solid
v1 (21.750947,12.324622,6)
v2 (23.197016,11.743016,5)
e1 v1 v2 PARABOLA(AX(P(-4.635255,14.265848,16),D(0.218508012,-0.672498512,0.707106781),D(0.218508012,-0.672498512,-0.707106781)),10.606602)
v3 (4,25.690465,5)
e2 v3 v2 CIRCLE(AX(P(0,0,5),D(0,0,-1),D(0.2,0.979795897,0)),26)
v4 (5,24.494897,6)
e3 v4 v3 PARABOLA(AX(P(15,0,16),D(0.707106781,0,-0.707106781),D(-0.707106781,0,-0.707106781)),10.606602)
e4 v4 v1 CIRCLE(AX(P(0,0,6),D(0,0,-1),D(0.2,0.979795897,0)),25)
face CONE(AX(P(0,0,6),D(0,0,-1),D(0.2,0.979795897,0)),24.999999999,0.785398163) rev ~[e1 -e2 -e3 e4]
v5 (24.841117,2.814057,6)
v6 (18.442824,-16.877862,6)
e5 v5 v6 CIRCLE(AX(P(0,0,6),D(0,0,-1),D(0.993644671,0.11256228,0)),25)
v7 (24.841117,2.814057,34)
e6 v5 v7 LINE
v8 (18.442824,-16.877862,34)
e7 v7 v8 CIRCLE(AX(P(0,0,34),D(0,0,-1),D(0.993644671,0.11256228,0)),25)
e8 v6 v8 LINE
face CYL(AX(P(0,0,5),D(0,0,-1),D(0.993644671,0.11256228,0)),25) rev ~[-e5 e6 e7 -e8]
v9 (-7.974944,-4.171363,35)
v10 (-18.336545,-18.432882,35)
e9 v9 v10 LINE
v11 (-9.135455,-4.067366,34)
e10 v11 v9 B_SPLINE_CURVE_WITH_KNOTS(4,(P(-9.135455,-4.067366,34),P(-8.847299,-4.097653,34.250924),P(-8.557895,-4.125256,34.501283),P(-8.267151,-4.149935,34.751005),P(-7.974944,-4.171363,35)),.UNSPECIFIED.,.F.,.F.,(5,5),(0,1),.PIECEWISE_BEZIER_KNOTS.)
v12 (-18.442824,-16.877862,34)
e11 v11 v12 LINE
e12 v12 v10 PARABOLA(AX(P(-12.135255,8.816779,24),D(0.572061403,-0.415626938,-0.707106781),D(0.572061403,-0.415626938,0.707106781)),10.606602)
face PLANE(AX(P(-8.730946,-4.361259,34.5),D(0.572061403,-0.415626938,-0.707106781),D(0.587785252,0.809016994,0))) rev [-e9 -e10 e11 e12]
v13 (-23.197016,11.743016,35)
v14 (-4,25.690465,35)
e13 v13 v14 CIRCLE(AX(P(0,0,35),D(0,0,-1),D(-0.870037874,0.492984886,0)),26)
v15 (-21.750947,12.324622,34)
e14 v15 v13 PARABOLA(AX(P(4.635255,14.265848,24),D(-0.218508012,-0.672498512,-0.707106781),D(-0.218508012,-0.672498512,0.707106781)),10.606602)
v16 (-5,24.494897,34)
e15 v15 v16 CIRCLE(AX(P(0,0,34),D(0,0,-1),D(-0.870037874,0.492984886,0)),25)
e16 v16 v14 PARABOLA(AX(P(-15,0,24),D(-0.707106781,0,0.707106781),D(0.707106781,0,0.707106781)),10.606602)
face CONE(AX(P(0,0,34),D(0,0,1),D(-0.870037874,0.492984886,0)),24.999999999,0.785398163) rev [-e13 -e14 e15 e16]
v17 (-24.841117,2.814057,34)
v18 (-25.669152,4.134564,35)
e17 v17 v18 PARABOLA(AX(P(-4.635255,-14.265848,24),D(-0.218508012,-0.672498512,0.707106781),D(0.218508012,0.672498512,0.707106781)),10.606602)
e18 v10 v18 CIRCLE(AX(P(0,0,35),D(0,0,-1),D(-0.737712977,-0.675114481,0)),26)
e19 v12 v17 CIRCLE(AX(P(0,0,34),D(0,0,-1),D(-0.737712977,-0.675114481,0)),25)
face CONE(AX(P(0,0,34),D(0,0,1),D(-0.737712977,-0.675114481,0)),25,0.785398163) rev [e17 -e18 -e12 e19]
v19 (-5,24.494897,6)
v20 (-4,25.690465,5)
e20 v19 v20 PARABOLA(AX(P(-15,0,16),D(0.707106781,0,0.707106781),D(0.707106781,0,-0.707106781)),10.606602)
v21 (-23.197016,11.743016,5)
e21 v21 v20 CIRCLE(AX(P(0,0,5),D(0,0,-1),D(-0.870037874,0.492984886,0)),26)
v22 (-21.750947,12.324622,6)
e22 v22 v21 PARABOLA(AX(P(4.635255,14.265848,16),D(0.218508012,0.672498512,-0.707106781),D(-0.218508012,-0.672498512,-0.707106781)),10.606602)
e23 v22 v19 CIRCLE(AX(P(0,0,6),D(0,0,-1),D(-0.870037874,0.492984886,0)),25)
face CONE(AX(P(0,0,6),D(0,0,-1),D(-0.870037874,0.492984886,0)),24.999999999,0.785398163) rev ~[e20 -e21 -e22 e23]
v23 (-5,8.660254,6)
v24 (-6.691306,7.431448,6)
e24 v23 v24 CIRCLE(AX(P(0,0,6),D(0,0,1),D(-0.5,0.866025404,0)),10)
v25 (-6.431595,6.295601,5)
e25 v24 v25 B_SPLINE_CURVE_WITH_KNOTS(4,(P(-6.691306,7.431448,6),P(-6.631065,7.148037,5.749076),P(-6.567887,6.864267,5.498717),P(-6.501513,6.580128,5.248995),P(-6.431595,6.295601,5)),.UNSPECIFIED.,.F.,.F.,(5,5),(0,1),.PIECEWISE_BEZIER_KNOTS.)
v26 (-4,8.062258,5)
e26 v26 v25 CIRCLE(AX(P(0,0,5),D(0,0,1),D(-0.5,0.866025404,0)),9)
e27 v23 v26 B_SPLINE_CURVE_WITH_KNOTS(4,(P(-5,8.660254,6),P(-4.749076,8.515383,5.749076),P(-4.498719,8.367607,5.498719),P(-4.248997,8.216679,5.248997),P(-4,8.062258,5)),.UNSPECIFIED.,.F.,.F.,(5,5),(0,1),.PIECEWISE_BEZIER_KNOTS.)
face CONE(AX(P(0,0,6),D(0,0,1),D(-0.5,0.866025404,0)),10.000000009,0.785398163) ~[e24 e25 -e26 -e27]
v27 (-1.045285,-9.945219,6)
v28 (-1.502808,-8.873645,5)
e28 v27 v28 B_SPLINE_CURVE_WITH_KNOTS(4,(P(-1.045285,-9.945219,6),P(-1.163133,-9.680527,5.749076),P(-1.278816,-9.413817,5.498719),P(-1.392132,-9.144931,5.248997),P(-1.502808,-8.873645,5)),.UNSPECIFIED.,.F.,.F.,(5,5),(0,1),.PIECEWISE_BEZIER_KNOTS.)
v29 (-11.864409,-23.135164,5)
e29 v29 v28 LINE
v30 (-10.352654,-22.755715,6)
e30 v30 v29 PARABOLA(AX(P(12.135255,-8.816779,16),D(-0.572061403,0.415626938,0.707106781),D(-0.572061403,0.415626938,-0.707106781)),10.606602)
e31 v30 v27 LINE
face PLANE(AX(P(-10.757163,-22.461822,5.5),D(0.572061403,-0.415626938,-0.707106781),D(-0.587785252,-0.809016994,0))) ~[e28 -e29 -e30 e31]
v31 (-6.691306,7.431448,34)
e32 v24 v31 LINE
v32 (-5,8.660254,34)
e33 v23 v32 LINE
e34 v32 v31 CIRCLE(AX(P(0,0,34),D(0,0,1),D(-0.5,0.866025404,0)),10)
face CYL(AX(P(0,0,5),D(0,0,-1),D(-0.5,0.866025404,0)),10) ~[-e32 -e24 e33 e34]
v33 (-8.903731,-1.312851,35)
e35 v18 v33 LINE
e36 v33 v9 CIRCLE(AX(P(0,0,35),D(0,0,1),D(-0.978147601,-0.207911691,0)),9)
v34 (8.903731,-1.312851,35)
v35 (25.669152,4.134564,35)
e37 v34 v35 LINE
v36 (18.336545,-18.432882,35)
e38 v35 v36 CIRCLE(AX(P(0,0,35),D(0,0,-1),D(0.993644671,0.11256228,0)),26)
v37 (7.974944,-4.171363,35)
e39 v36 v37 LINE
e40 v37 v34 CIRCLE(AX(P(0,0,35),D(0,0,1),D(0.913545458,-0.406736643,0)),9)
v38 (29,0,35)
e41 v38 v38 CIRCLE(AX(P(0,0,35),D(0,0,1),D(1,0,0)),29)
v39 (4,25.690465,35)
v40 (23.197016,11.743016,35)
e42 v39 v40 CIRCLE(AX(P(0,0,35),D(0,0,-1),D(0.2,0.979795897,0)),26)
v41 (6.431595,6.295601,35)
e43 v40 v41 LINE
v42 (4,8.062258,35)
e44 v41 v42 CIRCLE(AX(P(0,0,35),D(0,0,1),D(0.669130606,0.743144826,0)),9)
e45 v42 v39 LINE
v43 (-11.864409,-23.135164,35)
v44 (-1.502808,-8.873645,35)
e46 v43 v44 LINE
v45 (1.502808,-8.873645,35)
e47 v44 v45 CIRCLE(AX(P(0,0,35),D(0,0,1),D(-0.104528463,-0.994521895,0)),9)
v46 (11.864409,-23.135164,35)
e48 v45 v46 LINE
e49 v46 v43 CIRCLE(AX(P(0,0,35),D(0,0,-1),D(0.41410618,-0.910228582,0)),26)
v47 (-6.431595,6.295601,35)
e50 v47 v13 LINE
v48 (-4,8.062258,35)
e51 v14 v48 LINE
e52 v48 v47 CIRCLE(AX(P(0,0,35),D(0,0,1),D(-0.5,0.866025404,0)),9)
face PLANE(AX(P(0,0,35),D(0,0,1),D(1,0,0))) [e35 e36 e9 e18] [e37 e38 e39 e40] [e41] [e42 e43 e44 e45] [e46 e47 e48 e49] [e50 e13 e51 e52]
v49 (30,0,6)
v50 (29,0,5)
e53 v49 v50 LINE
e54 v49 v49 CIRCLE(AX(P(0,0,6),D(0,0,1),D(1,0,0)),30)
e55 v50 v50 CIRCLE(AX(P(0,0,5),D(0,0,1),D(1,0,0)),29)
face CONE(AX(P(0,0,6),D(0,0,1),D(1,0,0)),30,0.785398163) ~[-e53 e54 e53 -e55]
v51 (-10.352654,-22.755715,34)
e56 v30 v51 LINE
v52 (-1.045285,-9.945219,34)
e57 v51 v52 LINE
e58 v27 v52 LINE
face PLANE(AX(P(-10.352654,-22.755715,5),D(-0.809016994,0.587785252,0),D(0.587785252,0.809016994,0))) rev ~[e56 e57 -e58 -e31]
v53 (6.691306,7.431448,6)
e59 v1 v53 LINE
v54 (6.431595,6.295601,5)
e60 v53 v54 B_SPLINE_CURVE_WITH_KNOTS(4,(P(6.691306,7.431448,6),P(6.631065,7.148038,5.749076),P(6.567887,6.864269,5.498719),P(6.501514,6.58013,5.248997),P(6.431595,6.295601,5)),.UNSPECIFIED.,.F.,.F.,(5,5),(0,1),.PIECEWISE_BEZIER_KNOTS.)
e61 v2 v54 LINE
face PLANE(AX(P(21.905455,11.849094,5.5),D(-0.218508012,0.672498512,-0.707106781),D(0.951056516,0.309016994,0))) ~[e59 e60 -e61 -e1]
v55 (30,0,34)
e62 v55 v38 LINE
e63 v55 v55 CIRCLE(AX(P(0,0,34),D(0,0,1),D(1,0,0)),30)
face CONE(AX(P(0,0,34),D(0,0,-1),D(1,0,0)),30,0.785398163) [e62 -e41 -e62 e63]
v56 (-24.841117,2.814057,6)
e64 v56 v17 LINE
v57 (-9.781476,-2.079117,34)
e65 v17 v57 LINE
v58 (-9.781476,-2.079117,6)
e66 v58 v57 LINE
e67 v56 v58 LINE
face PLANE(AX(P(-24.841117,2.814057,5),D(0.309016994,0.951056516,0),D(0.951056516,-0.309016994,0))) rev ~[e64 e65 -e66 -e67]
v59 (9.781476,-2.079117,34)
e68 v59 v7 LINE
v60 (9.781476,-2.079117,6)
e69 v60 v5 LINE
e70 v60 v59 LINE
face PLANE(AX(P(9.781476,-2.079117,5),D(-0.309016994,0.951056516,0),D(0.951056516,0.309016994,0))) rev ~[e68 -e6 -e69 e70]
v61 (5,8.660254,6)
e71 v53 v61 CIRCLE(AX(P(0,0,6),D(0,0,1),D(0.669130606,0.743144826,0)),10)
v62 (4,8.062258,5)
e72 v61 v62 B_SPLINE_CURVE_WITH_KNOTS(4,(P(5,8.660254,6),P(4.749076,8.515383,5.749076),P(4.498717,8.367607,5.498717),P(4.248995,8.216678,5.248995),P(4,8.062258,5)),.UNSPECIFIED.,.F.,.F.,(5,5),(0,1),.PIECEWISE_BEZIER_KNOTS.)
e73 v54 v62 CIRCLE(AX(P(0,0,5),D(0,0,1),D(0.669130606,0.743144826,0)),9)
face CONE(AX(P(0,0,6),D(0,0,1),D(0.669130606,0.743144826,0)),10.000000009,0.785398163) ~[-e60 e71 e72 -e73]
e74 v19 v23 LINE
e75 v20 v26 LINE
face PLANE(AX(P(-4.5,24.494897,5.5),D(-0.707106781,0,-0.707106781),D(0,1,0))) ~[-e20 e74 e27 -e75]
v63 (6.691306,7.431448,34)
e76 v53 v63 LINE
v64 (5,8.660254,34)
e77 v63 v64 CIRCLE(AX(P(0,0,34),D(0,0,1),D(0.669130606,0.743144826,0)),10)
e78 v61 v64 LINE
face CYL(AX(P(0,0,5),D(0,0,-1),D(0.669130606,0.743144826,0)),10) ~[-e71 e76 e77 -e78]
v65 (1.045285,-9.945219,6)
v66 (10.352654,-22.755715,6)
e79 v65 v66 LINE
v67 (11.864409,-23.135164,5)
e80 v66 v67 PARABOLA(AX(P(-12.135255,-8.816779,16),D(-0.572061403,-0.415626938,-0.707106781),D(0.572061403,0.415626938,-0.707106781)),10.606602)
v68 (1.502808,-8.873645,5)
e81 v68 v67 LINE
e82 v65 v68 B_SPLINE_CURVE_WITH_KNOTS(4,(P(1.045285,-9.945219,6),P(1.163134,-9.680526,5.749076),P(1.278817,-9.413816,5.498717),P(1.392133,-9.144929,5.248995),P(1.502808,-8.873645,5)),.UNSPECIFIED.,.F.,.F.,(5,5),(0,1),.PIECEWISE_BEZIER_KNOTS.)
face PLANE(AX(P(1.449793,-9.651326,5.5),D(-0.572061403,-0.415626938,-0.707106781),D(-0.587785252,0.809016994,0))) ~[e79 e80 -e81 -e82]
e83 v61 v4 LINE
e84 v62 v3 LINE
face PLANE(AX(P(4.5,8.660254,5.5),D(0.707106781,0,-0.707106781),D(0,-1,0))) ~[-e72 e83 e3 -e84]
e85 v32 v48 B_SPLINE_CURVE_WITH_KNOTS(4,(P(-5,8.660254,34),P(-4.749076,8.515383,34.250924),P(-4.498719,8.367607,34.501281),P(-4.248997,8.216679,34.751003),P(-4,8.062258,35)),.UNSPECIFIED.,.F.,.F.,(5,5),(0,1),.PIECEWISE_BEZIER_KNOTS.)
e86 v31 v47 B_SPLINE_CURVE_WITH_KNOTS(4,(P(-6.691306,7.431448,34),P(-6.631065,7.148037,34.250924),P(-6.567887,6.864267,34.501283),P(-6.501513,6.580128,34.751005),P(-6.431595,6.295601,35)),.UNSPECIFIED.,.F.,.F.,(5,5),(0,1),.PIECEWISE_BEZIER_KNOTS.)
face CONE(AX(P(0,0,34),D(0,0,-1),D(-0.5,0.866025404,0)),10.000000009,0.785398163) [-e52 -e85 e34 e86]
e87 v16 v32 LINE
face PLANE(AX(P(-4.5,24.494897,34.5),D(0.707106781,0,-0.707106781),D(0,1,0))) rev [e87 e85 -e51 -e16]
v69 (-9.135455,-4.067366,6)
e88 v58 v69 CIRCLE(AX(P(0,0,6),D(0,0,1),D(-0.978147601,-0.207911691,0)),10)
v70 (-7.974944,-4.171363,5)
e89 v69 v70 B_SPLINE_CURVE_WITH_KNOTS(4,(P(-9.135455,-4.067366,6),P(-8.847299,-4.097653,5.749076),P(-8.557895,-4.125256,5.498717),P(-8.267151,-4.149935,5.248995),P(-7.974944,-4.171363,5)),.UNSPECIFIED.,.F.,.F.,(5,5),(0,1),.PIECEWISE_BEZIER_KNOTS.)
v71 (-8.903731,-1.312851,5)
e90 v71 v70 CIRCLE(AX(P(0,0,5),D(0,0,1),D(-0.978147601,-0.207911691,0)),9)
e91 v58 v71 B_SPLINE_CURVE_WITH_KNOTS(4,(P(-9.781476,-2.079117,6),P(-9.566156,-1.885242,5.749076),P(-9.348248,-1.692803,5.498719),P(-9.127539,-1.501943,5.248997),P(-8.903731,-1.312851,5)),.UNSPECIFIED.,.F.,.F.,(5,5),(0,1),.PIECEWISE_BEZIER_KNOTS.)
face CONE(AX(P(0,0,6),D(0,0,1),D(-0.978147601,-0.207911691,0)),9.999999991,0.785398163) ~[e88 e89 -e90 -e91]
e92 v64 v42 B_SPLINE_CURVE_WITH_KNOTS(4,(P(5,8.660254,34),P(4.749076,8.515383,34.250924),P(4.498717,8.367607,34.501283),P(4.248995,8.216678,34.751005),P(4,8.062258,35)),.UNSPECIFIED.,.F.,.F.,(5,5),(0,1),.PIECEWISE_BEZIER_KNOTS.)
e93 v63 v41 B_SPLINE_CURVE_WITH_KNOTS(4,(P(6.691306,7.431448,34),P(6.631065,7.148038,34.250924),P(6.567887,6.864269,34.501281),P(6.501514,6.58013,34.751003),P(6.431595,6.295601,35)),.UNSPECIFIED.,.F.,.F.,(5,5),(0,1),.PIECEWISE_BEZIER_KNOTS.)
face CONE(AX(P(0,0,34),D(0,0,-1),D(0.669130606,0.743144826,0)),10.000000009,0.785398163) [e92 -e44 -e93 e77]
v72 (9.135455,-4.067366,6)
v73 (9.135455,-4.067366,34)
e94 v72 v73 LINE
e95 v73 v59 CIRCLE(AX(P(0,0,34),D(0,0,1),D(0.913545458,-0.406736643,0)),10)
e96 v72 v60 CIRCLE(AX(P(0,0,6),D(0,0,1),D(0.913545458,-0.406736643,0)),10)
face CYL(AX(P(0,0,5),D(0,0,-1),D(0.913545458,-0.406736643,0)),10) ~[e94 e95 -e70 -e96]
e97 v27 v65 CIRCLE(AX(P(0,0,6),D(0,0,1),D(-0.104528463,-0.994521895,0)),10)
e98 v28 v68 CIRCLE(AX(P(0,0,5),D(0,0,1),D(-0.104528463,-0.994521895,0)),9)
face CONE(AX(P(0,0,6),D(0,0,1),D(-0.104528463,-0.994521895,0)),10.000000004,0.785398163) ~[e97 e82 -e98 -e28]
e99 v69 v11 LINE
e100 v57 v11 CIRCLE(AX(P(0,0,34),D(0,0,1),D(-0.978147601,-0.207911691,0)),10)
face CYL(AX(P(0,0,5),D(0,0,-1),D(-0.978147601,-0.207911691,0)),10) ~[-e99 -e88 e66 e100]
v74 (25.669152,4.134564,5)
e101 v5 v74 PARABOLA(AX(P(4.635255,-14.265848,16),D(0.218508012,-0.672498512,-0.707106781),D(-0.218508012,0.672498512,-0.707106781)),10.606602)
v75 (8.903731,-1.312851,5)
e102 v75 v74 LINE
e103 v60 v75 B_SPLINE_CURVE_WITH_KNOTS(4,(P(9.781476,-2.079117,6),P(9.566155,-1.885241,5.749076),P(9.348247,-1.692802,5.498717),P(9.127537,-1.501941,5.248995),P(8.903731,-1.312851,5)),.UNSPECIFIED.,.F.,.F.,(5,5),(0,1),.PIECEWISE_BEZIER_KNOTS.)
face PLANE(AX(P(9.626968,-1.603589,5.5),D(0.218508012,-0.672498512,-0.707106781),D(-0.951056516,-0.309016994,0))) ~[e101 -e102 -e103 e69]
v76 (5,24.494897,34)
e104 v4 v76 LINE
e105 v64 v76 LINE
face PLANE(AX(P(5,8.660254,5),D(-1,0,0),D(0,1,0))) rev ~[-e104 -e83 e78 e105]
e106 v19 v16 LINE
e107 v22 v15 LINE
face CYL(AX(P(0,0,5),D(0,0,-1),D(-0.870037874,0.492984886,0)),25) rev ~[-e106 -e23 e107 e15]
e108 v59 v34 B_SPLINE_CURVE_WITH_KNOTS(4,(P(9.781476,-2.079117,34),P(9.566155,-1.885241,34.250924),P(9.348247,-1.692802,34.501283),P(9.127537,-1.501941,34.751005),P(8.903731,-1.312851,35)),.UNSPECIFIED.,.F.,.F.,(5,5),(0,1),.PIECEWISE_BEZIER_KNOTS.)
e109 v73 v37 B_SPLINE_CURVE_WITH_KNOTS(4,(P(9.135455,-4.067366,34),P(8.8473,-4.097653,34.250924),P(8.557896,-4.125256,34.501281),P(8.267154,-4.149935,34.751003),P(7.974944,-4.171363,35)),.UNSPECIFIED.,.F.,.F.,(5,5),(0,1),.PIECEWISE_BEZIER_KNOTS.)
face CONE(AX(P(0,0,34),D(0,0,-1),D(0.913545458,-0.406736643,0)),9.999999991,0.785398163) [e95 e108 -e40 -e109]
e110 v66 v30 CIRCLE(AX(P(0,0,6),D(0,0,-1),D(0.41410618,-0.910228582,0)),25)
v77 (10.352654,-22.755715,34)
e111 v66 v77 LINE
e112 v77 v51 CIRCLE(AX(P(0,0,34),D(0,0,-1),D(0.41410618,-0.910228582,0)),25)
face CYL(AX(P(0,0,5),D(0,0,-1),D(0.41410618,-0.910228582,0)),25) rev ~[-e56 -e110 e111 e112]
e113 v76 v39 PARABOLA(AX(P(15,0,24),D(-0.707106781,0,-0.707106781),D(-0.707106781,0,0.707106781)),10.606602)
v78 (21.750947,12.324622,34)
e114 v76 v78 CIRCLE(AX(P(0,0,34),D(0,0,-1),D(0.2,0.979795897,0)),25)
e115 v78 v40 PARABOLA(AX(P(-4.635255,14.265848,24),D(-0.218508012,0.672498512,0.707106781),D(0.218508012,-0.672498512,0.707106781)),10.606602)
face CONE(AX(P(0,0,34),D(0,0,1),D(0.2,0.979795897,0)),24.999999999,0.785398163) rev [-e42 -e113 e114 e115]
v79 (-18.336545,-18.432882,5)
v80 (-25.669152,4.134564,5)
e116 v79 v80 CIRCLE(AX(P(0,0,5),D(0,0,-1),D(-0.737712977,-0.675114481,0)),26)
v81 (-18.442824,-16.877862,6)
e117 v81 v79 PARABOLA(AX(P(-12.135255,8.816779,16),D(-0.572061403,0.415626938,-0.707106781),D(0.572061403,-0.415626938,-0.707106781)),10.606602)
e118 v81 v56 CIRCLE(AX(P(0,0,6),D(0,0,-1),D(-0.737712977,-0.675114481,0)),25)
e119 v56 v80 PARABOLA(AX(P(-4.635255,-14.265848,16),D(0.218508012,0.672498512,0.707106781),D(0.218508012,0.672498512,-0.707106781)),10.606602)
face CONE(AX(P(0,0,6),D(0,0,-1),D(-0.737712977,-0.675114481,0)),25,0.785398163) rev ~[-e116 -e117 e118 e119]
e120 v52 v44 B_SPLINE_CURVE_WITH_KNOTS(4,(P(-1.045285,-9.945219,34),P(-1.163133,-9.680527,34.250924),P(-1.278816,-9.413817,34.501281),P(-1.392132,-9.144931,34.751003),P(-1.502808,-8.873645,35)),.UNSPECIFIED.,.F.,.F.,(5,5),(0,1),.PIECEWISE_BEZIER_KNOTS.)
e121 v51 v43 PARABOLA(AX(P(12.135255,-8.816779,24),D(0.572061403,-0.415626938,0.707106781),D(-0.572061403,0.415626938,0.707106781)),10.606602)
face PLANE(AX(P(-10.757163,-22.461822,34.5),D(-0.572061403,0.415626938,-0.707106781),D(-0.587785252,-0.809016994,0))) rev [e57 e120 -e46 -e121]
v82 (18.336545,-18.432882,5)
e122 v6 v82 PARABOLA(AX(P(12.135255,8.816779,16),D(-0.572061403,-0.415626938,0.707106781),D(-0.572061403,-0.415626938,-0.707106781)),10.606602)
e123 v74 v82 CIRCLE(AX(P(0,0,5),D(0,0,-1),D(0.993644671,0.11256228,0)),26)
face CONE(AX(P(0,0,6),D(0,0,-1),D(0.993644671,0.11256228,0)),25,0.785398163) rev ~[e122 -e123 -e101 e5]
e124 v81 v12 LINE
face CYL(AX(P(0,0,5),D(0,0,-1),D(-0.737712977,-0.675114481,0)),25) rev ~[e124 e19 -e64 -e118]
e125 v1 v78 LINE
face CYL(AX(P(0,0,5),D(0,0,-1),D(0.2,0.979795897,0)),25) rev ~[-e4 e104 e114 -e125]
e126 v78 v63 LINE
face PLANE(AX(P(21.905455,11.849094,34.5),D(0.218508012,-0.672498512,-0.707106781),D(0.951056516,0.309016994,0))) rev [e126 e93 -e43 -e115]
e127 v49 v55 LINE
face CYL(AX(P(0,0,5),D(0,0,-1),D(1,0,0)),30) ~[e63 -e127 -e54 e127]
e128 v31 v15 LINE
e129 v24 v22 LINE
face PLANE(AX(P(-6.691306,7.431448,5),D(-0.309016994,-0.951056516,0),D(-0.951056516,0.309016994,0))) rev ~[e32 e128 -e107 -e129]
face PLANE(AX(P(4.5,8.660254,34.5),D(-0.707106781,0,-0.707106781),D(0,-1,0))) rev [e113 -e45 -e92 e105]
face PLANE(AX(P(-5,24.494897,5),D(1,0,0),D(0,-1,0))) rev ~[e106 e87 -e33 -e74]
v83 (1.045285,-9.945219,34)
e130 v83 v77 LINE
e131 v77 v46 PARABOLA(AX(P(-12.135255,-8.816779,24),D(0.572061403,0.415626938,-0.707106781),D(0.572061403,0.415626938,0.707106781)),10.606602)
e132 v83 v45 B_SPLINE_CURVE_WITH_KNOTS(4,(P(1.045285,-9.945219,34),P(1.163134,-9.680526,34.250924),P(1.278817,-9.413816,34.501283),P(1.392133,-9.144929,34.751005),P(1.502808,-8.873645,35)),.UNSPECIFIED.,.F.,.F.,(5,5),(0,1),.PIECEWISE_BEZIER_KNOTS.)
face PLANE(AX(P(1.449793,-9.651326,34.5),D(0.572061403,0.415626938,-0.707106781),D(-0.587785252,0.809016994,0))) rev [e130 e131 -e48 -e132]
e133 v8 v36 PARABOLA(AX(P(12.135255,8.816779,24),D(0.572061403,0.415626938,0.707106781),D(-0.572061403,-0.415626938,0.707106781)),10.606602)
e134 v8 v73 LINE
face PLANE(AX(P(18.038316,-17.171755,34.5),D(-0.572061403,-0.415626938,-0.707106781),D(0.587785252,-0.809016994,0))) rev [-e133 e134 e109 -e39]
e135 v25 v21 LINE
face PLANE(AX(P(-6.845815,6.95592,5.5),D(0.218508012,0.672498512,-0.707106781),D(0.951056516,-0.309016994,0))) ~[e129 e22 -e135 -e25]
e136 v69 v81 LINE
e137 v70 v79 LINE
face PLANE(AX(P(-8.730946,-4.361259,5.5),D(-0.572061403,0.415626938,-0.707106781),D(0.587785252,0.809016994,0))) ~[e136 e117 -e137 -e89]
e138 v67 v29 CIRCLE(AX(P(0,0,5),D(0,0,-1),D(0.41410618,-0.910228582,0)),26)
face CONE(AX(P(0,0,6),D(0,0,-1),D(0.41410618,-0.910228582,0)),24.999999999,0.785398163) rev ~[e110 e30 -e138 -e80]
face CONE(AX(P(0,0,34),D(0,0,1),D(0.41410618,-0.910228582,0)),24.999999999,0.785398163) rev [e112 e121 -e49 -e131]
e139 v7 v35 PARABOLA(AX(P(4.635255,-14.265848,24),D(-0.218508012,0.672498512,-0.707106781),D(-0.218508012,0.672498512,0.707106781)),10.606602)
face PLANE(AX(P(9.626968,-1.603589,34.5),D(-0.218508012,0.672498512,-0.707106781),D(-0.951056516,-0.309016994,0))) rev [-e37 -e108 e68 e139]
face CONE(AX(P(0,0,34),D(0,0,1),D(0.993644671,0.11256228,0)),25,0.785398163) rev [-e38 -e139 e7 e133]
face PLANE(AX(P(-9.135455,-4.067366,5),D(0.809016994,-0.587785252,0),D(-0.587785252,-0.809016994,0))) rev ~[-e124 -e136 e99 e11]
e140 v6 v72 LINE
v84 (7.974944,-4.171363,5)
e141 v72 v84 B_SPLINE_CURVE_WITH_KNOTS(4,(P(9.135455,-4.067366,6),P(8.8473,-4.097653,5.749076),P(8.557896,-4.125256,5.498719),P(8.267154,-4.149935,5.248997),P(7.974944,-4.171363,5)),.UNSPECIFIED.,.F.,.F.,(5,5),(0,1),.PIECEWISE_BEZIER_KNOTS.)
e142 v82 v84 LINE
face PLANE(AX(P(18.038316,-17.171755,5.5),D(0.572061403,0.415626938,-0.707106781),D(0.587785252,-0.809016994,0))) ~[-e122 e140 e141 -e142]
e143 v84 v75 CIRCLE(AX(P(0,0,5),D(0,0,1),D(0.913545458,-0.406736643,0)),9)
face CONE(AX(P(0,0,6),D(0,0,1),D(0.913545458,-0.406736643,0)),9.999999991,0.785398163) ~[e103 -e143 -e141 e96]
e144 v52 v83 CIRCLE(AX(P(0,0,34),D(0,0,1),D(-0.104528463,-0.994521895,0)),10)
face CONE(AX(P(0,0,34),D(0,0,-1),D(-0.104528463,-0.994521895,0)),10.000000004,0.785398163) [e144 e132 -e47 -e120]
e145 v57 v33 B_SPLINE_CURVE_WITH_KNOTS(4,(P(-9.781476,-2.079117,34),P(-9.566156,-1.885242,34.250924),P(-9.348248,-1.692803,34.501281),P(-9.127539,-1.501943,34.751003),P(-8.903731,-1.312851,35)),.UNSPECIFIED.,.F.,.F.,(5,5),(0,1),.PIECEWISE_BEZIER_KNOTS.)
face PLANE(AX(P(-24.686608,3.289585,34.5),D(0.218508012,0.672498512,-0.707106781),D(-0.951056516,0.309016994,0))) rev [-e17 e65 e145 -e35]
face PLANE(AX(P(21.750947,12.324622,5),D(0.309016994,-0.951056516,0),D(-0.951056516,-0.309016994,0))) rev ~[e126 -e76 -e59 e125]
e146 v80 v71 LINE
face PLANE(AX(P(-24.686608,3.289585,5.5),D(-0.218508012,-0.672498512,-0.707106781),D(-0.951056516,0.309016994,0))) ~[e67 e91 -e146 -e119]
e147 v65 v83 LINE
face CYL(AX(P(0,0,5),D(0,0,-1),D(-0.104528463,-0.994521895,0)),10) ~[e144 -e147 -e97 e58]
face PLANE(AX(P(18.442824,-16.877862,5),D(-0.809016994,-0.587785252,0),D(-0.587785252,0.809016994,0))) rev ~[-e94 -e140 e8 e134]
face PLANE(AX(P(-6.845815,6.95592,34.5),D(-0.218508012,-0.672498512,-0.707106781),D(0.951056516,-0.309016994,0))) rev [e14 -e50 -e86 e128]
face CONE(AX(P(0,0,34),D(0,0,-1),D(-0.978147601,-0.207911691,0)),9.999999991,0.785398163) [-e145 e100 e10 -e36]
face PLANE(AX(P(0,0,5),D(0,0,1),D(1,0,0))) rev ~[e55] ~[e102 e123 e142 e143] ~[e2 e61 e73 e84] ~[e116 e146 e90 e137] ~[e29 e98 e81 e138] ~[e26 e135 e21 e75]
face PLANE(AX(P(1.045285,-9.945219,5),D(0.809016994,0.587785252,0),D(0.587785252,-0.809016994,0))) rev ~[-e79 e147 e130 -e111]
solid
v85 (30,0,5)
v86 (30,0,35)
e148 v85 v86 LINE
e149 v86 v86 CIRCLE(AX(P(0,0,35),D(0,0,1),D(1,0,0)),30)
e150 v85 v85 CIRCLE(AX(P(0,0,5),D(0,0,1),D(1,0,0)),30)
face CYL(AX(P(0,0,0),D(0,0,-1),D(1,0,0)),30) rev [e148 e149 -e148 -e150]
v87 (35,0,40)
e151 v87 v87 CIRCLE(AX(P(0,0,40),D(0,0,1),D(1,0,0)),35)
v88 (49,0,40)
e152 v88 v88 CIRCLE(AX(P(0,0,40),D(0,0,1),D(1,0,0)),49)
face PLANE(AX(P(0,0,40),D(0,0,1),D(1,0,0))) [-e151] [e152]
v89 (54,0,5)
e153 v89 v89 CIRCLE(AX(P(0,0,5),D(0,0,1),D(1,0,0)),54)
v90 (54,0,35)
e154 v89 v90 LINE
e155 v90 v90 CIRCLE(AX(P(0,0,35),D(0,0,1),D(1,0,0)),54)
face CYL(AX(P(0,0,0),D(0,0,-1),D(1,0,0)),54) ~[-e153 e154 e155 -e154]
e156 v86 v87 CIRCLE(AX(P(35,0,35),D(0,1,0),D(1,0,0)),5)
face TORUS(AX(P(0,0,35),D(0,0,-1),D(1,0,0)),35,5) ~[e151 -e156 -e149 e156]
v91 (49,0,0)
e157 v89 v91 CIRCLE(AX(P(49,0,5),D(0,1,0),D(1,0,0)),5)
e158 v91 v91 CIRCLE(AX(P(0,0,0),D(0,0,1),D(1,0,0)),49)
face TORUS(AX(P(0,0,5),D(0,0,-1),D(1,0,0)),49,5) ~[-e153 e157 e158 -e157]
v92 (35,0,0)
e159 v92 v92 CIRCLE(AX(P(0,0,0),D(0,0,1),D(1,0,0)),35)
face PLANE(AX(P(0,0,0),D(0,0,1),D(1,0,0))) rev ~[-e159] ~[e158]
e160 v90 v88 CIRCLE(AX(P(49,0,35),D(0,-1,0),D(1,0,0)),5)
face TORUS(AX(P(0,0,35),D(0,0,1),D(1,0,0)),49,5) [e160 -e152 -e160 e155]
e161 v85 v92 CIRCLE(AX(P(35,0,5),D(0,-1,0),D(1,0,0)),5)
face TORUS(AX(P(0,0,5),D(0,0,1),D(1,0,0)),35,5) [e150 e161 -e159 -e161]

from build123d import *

# Parameters (mm, degrees)
F0_R     = 54
F0_R_2   = 30
F1_DEPTH = 40
F2_START = 5
F2_DEPTH = 30
F3_R     = 5
F4_SIZE  = 1


with BuildPart() as f1:
    # F0 (on Top) → F1 (new body)
    with BuildSketch(Plane.XY):
        Circle(F0_R)
        Circle(F0_R_2, mode=Mode.SUBTRACT)
    extrude(amount=F1_DEPTH)

    # F3
    f3_edges = [f1.edges().sort_by_distance(p)[0] for p in [
        (-54, 0, 40),
        (-54, 0, 0),
        (-30, 0, 40),
        (-30, 0, 0),
    ]]
    fillet(f3_edges, radius=F3_R)


with BuildPart() as f2:
    # F0 (on Top) → F2 (new body)
    with BuildSketch(Plane.XY.offset(F2_START)):
        Circle(F0_R_2)
        with BuildLine():
            ThreePointArc((-18.4428244364, -16.8778620331), (-23.7764129074, -7.7254248594), (-24.8411167866, 2.8140569992))
            Line((-24.8411167866, 2.8140569992), (-9.7814760073, -2.0791169082))
            ThreePointArc((-9.7814760073, -2.0791169082), (-9.510565163, -3.0901699437), (-9.1354545764, -4.0673664308))
            Line((-9.1354545764, -4.0673664308), (-18.4428244364, -16.8778620331))
        make_face(mode=Mode.SUBTRACT)
        with BuildLine():
            ThreePointArc((10.3526544926, -22.755714556), (0, -25), (-10.3526544926, -22.755714556))
            Line((-10.3526544926, -22.755714556), (-1.0452846327, -9.9452189537))
            ThreePointArc((-1.0452846327, -9.9452189537), (0, -10), (1.0452846327, -9.9452189537))
            Line((1.0452846327, -9.9452189537), (10.3526544926, -22.755714556))
        make_face(mode=Mode.SUBTRACT)
        with BuildLine():
            Line((18.4428244364, -16.8778620331), (9.1354545764, -4.0673664308))
            ThreePointArc((9.1354545764, -4.0673664308), (9.510565163, -3.0901699437), (9.7814760073, -2.0791169082))
            Line((9.7814760073, -2.0791169082), (24.8411167866, 2.8140569992))
            ThreePointArc((24.8411167866, 2.8140569992), (23.7764129074, -7.7254248594), (18.4428244364, -16.8778620331))
        make_face(mode=Mode.SUBTRACT)
        with BuildLine():
            Line((-5, 24.4948974278), (-5, 8.6602540378))
            ThreePointArc((-5, 8.6602540378), (-5.8778525229, 8.0901699437), (-6.6913060636, 7.4314482548))
            Line((-6.6913060636, 7.4314482548), (-21.7509468428, 12.3246221621))
            ThreePointArc((-21.7509468428, 12.3246221621), (-14.6946313073, 20.2254248594), (-5, 24.4948974278))
        make_face(mode=Mode.SUBTRACT)
        with BuildLine():
            ThreePointArc((6.6913060636, 7.4314482548), (5.8778525229, 8.0901699437), (5, 8.6602540378))
            Line((5, 8.6602540378), (5, 24.4948974278))
            ThreePointArc((5, 24.4948974278), (14.6946313073, 20.2254248594), (21.7509468428, 12.3246221621))
            Line((21.7509468428, 12.3246221621), (6.6913060636, 7.4314482548))
        make_face(mode=Mode.SUBTRACT)
    extrude(amount=F2_DEPTH)

    # F4
    f4_edges = [f2.edges().sort_by_distance(p)[0] for p in [
        (-30, 0, 35),
        (-9.510565, -3.09017, 35),
        (-13.78914, -10.472614, 35),
        (-23.776413, -7.725425, 35),
        (-17.311296, 0.36747, 35),
        (0, -25, 35),
        (-5.69897, -16.350467, 35),
        (0, -10, 35),
        (5.69897, -16.350467, 35),
        (23.776413, -7.725425, 35),
        (13.78914, -10.472614, 35),
        (9.510565, -3.09017, 35),
        (17.311296, 0.36747, 35),
        (-5, 16.577576, 35),
        (-5.877853, 8.09017, 35),
        (-14.221126, 9.878035, 35),
        (-14.694631, 20.225425, 35),
        (14.221126, 9.878035, 35),
        (5.877853, 8.09017, 35),
        (5, 16.577576, 35),
        (14.694631, 20.225425, 35),
        (-30, 0, 5),
        (-9.510565, -3.09017, 5),
        (-13.78914, -10.472614, 5),
        (-23.776413, -7.725425, 5),
        (-17.311296, 0.36747, 5),
        (0, -25, 5),
        (-5.69897, -16.350467, 5),
        (0, -10, 5),
        (5.69897, -16.350467, 5),
        (23.776413, -7.725425, 5),
        (13.78914, -10.472614, 5),
        (9.510565, -3.09017, 5),
        (17.311296, 0.36747, 5),
        (-5, 16.577576, 5),
        (-5.877853, 8.09017, 5),
        (-14.221126, 9.878035, 5),
        (-14.694631, 20.225425, 5),
        (14.221126, 9.878035, 5),
        (5.877853, 8.09017, 5),
        (5, 16.577576, 5),
        (14.694631, 20.225425, 5),
    ]]
    chamfer(f4_edges, length=F4_SIZE)


solid = Compound([f1.part, f2.part])
